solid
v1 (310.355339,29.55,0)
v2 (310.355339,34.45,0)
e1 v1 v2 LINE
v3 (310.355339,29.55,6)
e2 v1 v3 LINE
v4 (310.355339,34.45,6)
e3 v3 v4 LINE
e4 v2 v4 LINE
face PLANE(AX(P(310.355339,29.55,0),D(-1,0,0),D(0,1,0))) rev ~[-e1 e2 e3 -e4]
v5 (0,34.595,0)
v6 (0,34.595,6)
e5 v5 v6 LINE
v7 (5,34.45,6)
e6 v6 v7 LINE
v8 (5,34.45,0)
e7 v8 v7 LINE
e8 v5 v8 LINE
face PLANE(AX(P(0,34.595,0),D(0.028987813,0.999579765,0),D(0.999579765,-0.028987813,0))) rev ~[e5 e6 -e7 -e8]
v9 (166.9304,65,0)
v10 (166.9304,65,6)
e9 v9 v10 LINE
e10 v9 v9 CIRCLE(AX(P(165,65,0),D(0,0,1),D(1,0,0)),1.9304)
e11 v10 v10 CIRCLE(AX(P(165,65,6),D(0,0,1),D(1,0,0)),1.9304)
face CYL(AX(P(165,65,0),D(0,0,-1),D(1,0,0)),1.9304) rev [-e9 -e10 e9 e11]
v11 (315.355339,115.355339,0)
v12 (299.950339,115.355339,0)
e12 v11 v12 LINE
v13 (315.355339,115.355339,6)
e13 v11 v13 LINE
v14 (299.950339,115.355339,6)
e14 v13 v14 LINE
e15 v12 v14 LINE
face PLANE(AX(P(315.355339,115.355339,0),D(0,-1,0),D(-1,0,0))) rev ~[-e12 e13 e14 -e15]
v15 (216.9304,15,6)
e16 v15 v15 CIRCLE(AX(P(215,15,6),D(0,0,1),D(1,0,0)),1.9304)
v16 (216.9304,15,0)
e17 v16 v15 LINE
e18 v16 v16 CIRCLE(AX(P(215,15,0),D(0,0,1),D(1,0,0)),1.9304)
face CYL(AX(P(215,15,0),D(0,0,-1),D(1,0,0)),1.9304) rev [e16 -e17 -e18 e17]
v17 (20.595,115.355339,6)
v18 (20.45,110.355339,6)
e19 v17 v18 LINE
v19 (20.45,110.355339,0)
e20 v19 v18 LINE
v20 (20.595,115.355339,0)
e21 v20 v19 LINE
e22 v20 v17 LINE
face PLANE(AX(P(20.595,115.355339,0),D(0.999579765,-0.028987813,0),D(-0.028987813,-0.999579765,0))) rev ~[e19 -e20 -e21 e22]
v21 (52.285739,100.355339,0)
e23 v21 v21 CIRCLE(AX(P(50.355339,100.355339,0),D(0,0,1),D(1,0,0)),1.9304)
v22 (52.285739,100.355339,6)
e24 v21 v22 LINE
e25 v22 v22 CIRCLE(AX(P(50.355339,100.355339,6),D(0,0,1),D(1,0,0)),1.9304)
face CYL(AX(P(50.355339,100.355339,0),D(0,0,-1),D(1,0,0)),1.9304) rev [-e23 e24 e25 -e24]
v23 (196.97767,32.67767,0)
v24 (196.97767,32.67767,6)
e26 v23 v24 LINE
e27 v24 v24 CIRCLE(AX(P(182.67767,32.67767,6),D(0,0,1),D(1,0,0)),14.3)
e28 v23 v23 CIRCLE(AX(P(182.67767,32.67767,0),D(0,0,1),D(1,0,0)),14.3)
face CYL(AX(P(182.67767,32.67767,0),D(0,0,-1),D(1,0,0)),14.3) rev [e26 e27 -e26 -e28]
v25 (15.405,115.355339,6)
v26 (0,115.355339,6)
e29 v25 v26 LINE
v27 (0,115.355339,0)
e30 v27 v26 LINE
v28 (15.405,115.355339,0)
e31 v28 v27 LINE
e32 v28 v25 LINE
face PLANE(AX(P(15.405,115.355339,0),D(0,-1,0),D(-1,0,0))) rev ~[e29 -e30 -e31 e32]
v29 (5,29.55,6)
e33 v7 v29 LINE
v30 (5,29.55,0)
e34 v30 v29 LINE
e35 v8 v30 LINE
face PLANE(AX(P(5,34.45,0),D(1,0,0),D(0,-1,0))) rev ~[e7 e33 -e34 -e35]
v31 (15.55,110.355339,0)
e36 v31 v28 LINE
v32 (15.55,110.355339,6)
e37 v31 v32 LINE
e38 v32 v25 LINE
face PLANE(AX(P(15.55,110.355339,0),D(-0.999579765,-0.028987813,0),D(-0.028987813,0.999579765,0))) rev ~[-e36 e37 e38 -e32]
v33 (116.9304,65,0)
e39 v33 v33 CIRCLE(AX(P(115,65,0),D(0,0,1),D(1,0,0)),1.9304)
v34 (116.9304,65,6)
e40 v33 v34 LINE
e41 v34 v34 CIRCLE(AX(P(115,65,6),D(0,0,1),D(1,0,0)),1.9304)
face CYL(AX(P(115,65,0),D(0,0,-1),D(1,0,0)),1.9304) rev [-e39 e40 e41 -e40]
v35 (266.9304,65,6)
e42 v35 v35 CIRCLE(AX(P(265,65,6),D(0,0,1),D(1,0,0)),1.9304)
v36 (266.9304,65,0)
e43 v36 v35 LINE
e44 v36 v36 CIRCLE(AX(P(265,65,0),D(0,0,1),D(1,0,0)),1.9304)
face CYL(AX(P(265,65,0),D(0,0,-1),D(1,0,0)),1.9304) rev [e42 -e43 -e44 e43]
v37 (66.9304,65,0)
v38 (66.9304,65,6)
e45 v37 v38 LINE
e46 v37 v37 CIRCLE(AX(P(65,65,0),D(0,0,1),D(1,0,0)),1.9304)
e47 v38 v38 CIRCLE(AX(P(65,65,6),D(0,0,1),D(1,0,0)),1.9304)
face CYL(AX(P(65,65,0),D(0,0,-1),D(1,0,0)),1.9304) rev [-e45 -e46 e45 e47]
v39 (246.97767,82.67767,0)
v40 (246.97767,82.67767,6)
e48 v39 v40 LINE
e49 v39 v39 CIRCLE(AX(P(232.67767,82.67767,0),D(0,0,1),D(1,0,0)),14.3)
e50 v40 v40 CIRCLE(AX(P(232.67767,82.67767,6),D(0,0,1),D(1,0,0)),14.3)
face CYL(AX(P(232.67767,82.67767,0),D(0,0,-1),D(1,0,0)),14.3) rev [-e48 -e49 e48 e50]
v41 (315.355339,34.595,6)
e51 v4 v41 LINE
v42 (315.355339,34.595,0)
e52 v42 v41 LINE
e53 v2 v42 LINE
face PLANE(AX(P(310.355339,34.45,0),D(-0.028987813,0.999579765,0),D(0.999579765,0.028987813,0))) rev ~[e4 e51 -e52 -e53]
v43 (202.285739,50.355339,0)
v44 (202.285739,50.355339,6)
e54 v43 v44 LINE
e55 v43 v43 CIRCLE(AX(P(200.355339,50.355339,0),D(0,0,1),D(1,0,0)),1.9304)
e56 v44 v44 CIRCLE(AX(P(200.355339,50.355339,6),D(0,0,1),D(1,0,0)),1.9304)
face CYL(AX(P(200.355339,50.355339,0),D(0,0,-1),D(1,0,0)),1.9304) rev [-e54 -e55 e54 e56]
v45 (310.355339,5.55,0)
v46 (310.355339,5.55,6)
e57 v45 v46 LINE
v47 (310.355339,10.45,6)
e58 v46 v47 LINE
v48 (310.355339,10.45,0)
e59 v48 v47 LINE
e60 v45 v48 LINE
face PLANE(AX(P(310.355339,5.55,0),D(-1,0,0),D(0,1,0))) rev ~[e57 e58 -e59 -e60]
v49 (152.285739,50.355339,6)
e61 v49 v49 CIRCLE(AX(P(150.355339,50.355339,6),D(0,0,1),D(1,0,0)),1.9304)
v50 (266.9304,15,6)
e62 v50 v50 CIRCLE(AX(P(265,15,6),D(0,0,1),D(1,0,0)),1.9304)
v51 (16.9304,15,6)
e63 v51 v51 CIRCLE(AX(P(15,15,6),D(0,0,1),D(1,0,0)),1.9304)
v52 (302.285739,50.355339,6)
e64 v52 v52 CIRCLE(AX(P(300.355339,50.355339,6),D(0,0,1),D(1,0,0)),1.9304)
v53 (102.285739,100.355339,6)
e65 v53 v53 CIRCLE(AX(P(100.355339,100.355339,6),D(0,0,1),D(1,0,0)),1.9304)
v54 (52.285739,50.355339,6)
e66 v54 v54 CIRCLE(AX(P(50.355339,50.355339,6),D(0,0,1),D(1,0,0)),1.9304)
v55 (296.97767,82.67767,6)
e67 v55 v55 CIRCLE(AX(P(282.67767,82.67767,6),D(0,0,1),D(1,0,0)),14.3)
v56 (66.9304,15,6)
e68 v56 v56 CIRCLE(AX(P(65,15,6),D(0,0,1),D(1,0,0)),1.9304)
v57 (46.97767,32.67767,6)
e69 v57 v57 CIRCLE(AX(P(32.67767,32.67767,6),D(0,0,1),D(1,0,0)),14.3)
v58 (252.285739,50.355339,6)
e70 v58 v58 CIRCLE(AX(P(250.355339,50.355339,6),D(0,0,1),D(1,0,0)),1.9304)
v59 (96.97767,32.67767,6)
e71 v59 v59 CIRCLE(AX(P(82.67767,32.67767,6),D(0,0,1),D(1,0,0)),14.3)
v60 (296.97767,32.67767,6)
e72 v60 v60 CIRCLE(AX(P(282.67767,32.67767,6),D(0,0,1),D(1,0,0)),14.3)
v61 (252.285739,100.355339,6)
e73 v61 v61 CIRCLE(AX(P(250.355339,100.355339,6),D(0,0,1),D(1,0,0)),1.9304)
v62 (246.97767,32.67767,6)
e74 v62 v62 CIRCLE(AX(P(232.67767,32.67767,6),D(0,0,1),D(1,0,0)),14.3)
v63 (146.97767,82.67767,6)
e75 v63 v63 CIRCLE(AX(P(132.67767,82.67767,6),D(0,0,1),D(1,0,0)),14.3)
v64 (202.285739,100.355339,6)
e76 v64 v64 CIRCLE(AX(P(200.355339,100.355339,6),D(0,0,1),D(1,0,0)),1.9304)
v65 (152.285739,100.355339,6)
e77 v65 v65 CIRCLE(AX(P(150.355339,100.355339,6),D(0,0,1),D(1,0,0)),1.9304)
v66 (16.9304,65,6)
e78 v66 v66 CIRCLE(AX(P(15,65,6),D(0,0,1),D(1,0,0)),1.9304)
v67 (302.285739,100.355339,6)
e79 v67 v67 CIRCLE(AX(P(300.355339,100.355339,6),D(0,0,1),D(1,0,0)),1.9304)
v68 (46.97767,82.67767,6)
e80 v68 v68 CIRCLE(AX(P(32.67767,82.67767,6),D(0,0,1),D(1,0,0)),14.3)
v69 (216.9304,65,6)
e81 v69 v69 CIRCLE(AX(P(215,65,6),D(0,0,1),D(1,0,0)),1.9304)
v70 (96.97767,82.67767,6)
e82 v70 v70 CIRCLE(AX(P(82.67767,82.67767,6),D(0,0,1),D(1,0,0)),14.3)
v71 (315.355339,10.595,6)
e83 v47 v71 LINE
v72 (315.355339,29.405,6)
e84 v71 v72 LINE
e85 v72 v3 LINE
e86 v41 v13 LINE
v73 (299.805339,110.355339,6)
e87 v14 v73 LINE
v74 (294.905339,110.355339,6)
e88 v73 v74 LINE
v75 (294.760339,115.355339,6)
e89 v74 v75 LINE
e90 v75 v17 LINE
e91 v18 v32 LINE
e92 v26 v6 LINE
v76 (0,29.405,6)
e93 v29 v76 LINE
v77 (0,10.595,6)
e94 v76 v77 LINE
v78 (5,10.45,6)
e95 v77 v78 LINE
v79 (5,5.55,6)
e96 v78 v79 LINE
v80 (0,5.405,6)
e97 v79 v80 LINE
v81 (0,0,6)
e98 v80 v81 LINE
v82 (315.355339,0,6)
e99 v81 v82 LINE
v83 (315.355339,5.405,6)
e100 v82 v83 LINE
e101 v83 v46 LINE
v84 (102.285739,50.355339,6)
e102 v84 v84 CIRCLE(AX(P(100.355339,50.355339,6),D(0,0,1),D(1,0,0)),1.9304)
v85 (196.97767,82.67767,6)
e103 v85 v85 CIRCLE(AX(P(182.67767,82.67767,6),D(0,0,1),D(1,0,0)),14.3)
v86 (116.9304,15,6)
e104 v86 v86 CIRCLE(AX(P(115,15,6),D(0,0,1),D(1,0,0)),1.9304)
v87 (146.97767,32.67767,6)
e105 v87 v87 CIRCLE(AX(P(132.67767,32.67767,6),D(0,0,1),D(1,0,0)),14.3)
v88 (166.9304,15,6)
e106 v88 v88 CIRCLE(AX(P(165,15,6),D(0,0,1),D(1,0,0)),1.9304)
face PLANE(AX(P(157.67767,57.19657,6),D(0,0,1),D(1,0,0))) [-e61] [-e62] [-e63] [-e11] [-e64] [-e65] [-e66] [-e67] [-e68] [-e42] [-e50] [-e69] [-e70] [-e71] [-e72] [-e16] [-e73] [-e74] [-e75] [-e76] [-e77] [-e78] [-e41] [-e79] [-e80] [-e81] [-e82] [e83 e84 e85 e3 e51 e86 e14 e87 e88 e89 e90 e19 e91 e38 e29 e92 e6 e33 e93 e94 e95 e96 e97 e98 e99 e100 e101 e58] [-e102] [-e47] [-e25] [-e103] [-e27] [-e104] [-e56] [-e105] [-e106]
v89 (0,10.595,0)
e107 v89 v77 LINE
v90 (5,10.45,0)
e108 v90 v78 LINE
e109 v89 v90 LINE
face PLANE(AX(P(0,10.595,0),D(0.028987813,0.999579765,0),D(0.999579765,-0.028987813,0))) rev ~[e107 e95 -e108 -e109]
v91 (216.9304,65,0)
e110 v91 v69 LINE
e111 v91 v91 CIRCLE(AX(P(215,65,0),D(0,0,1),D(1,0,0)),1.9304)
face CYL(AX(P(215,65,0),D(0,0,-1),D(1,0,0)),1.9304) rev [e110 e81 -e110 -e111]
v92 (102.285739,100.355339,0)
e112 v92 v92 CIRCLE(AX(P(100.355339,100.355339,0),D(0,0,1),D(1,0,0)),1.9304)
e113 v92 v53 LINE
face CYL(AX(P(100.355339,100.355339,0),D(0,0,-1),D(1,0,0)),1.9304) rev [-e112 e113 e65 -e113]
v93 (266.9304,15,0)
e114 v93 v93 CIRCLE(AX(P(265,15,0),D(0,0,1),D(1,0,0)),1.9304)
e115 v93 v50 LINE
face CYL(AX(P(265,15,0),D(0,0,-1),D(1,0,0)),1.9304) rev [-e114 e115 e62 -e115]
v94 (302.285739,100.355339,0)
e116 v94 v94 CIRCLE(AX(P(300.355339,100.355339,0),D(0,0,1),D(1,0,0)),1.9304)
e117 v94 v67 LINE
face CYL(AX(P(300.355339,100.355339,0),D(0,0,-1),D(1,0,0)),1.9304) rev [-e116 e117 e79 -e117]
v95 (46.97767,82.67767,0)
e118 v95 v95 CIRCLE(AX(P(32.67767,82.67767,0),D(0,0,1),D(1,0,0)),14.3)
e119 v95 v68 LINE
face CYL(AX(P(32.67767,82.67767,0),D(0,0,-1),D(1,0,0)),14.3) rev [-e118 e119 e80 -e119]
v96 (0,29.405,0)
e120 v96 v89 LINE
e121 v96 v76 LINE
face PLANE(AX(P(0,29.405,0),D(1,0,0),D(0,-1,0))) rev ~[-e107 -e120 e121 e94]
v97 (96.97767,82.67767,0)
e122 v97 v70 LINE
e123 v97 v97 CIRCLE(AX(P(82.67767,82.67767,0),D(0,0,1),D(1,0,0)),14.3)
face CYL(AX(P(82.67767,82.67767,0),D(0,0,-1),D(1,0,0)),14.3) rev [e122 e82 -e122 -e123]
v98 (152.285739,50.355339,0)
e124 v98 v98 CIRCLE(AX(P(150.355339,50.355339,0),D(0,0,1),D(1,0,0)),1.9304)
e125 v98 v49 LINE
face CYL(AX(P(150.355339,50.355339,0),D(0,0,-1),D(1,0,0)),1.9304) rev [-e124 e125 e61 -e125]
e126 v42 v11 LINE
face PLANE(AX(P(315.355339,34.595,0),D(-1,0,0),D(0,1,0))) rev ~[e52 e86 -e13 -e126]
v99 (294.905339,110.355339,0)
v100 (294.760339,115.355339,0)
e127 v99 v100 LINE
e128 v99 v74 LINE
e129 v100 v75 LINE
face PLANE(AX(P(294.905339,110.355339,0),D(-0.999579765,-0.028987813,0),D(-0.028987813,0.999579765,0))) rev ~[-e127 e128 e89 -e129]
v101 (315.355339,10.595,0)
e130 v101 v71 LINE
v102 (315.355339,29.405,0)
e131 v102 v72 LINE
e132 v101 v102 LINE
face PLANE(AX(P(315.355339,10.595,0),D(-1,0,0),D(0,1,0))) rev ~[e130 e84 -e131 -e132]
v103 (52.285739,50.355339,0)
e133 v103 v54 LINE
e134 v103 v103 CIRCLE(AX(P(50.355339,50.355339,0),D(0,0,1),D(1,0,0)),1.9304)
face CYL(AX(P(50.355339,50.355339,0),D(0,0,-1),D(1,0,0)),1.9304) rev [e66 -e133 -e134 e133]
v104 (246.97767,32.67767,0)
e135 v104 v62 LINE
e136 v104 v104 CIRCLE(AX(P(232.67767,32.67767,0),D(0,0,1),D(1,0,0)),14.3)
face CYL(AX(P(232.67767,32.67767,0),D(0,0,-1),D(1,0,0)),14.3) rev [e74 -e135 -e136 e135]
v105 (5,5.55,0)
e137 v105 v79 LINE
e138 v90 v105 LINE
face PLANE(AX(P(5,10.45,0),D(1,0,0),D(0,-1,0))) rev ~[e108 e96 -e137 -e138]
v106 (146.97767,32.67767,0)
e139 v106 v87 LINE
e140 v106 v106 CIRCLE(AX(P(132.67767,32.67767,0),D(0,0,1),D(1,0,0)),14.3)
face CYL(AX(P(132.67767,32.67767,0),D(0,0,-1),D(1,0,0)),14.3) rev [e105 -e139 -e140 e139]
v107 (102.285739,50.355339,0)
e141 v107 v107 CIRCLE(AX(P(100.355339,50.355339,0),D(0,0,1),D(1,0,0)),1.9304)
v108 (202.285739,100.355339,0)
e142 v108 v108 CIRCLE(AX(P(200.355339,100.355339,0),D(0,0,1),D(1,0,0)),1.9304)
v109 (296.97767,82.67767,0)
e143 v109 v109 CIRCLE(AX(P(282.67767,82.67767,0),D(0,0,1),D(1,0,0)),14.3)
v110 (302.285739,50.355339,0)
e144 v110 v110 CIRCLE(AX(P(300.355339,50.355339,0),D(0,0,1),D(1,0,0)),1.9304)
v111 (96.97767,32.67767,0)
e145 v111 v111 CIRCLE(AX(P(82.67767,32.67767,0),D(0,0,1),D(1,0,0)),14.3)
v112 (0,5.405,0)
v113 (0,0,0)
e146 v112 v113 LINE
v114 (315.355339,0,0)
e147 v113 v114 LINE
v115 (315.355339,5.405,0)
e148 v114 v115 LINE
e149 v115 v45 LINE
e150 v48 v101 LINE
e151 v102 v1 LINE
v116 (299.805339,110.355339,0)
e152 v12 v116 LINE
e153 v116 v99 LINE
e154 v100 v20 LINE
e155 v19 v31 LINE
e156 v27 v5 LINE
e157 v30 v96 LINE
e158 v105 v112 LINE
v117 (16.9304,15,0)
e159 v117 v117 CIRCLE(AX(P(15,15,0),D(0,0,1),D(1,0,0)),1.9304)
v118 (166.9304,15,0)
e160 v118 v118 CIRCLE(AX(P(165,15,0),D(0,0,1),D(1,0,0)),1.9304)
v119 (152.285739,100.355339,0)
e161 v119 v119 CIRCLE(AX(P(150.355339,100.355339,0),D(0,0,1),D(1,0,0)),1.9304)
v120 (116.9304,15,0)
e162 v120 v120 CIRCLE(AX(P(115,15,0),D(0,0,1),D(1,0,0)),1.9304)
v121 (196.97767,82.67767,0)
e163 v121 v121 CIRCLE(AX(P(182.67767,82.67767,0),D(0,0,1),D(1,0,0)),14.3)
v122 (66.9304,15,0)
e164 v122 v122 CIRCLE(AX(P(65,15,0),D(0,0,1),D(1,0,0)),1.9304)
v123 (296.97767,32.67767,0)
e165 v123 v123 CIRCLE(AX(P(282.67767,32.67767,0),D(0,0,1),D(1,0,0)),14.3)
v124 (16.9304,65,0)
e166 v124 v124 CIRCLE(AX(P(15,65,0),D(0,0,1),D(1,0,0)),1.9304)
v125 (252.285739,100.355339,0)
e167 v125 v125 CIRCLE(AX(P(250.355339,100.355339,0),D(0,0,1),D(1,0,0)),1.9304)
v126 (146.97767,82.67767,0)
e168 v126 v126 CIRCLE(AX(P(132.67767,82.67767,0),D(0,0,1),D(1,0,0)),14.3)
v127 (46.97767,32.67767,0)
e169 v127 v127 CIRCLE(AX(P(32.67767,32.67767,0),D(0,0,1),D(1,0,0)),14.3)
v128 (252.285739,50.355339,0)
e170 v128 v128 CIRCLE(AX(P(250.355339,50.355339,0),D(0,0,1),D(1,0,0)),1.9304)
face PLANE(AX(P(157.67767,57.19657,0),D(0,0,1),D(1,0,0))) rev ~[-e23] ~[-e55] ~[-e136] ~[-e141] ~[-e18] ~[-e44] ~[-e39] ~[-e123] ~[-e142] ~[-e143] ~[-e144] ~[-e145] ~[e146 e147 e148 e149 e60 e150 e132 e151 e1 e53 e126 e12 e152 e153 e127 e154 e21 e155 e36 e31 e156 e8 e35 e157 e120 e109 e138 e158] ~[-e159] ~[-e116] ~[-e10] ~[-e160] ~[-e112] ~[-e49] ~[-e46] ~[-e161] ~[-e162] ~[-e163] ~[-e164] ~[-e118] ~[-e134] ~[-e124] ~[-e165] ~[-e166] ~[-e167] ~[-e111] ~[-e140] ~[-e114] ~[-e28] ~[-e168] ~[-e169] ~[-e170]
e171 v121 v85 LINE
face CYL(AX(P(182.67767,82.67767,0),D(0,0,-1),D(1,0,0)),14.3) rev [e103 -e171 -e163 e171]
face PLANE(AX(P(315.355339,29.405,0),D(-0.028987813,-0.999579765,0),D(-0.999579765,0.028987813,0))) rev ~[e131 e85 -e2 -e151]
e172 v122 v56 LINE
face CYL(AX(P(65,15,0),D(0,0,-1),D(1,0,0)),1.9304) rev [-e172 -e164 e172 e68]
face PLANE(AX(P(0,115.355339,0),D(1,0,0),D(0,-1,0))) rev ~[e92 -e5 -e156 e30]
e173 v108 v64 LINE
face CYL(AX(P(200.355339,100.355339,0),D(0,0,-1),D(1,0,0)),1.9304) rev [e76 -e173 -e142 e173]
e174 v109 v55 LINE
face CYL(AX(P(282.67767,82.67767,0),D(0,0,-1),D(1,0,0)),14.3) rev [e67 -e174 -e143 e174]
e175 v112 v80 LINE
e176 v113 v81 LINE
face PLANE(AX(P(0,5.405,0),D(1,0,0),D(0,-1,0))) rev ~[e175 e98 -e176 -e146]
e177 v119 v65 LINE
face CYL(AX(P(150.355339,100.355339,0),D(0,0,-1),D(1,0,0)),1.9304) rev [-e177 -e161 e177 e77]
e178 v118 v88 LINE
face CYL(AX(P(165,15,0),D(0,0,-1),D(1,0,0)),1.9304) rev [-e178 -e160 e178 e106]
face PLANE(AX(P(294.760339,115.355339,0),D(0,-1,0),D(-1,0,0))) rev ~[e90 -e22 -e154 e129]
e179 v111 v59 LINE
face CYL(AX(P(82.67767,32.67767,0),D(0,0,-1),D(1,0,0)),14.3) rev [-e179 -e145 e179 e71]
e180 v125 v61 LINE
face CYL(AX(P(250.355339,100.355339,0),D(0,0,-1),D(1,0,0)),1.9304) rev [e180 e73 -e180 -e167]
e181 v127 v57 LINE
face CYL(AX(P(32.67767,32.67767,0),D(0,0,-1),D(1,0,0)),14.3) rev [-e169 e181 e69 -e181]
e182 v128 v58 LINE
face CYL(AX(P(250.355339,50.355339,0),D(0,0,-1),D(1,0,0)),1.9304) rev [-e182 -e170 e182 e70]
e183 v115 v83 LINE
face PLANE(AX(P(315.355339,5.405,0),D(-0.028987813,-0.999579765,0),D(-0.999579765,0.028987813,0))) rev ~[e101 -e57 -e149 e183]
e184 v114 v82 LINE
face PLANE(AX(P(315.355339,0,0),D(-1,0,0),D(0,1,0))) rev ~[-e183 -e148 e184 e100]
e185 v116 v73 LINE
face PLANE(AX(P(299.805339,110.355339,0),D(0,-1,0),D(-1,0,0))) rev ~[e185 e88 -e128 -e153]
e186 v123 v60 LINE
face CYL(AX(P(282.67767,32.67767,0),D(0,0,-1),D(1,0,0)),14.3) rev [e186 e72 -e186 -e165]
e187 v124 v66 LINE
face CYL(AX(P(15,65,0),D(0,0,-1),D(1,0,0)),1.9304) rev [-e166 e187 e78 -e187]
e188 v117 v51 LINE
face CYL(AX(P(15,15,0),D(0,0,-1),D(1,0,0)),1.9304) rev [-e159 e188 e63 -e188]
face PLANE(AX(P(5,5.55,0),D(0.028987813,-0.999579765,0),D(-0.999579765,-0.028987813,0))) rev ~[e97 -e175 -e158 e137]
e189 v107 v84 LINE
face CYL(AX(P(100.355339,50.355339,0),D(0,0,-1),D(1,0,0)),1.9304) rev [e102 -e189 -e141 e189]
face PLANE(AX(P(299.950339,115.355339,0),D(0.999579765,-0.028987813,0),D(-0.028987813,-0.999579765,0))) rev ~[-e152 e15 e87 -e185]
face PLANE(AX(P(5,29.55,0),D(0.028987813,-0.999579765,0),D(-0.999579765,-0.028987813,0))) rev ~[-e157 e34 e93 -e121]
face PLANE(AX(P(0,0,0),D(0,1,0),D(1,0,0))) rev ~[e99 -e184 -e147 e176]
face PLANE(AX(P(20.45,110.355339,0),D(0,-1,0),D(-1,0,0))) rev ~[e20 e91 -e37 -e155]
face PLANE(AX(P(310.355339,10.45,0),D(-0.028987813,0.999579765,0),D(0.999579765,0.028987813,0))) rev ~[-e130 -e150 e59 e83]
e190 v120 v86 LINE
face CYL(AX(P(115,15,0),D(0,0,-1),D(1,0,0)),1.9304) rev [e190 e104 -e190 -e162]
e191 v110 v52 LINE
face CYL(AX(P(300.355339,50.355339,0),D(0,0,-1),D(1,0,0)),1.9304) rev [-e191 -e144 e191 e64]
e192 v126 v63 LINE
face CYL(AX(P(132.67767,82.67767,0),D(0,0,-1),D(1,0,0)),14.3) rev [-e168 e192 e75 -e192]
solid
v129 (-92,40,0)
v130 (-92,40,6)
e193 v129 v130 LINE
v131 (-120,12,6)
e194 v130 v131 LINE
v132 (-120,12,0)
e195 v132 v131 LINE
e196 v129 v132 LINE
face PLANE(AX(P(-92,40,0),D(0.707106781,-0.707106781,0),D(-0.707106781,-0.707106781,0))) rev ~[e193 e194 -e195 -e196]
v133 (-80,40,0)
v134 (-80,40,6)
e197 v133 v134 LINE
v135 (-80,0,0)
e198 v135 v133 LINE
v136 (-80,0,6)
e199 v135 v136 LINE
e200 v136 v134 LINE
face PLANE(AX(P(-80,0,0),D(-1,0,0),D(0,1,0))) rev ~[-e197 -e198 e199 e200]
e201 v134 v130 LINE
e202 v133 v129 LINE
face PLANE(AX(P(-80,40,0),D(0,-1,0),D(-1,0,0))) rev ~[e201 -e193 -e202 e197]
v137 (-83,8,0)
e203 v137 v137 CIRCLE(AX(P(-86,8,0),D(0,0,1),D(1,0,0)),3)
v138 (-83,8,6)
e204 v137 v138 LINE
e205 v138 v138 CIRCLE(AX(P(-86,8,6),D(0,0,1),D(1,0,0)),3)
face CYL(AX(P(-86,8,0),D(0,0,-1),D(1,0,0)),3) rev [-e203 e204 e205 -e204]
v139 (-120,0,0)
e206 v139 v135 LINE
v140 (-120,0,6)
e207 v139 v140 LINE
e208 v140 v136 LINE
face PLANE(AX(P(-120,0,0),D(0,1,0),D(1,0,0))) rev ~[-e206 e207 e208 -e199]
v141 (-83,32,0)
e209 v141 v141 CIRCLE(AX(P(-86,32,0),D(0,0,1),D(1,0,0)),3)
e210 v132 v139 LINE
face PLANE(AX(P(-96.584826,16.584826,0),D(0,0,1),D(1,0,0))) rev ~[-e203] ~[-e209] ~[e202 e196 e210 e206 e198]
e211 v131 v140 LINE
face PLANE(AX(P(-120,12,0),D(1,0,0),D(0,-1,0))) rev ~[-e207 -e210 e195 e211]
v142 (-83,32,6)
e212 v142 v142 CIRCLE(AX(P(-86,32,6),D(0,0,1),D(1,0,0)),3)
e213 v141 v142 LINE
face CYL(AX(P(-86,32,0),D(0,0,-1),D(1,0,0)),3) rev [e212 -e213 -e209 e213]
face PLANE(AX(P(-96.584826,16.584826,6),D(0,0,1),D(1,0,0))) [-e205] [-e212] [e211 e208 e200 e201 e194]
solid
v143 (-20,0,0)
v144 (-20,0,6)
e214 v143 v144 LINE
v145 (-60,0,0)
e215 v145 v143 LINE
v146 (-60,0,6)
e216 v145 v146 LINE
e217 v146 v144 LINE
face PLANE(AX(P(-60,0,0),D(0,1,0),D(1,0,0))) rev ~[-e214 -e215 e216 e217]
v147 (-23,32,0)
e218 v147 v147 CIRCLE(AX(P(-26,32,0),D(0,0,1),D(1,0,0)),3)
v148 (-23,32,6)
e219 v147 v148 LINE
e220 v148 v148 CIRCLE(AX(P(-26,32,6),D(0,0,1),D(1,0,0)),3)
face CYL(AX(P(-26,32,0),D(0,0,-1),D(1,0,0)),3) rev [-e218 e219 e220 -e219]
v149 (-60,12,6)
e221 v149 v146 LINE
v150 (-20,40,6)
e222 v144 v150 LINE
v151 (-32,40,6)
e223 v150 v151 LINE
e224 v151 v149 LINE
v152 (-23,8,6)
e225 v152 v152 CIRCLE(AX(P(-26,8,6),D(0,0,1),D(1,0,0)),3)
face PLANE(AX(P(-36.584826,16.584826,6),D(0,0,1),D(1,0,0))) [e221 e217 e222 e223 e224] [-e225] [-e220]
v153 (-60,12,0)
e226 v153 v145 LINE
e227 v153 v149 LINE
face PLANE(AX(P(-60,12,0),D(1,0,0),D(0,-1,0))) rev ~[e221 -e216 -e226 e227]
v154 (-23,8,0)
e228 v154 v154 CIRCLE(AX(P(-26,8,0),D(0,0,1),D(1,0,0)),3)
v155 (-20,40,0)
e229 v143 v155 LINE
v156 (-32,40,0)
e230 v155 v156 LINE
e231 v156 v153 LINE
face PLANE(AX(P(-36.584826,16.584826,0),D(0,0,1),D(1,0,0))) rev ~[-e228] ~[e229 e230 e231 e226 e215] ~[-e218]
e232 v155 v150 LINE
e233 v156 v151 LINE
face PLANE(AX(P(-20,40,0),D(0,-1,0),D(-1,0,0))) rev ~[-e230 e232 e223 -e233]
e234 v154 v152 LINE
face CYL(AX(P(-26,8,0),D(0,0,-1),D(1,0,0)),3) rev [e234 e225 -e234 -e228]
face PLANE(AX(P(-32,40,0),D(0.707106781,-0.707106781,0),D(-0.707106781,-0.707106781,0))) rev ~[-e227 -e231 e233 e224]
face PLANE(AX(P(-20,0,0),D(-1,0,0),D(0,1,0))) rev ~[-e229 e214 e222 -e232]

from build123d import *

# Parameters (mm, degrees)
F1_R     = 1.9304
F1_R_2   = 14.3
F2_DEPTH = 6
F1_R_3   = 3


with BuildPart() as f2:
    # F1 (on Top) → F2 (new body)
    with BuildSketch(Plane.XY):
        Polygon((0, 5.405), (0, 0), (315.3553390593, 0), (315.3553390593, 5.405), (310.3553390593, 5.55), (310.3553390593, 10.45), (315.3553390593, 10.595), (315.3553390593, 29.405), (310.3553390593, 29.55), (310.3553390593, 34.45), (315.3553390593, 34.595), (315.3553390593, 115.3553390593), (299.9503390593, 115.3553390593), (299.8053390593, 110.3553390593), (294.9053390593, 110.3553390593), (294.7603390593, 115.3553390593), (20.595, 115.3553390593), (20.45, 110.3553390593), (15.55, 110.3553390593), (15.405, 115.3553390593), (0, 115.3553390593), (0, 34.595), (5, 34.45), (5, 29.55), (0, 29.405), (0, 10.595), (5, 10.45), (5, 5.55), align=None)
        with Locations((15, 15)):
            Circle(F1_R, mode=Mode.SUBTRACT)
        with Locations((65, 15)):
            Circle(F1_R, mode=Mode.SUBTRACT)
        with Locations((32.6776695297, 32.6776695297)):
            Circle(F1_R_2, mode=Mode.SUBTRACT)
        with Locations((82.6776695297, 32.6776695297)):
            Circle(F1_R_2, mode=Mode.SUBTRACT)
        with Locations((50.3553390593, 50.3553390593)):
            Circle(F1_R, mode=Mode.SUBTRACT)
        with Locations((115, 15)):
            Circle(F1_R, mode=Mode.SUBTRACT)
        with Locations((165, 15)):
            Circle(F1_R, mode=Mode.SUBTRACT)
        with Locations((215, 15)):
            Circle(F1_R, mode=Mode.SUBTRACT)
        with Locations((265, 15)):
            Circle(F1_R, mode=Mode.SUBTRACT)
        with Locations((132.6776695297, 32.6776695297)):
            Circle(F1_R_2, mode=Mode.SUBTRACT)
        with Locations((182.6776695297, 32.6776695297)):
            Circle(F1_R_2, mode=Mode.SUBTRACT)
        with Locations((100.3553390593, 50.3553390593)):
            Circle(F1_R, mode=Mode.SUBTRACT)
        with Locations((150.3553390593, 50.3553390593)):
            Circle(F1_R, mode=Mode.SUBTRACT)
        with Locations((200.3553390593, 50.3553390593)):
            Circle(F1_R, mode=Mode.SUBTRACT)
        with Locations((232.6776695297, 32.6776695297)):
            Circle(F1_R_2, mode=Mode.SUBTRACT)
        with Locations((282.6776695297, 32.6776695297)):
            Circle(F1_R_2, mode=Mode.SUBTRACT)
        with Locations((250.3553390593, 50.3553390593)):
            Circle(F1_R, mode=Mode.SUBTRACT)
        with Locations((300.3553390593, 50.3553390593)):
            Circle(F1_R, mode=Mode.SUBTRACT)
        with Locations((15, 65)):
            Circle(F1_R, mode=Mode.SUBTRACT)
        with Locations((65, 65)):
            Circle(F1_R, mode=Mode.SUBTRACT)
        with Locations((32.6776695297, 82.6776695297)):
            Circle(F1_R_2, mode=Mode.SUBTRACT)
        with Locations((82.6776695297, 82.6776695297)):
            Circle(F1_R_2, mode=Mode.SUBTRACT)
        with Locations((50.3553390593, 100.3553390593)):
            Circle(F1_R, mode=Mode.SUBTRACT)
        with Locations((115, 65)):
            Circle(F1_R, mode=Mode.SUBTRACT)
        with Locations((165, 65)):
            Circle(F1_R, mode=Mode.SUBTRACT)
        with Locations((132.6776695297, 82.6776695297)):
            Circle(F1_R_2, mode=Mode.SUBTRACT)
        with Locations((182.6776695297, 82.6776695297)):
            Circle(F1_R_2, mode=Mode.SUBTRACT)
        with Locations((215, 65)):
            Circle(F1_R, mode=Mode.SUBTRACT)
        with Locations((265, 65)):
            Circle(F1_R, mode=Mode.SUBTRACT)
        with Locations((232.6776695297, 82.6776695297)):
            Circle(F1_R_2, mode=Mode.SUBTRACT)
        with Locations((282.6776695297, 82.6776695297)):
            Circle(F1_R_2, mode=Mode.SUBTRACT)
        with Locations((100.3553390593, 100.3553390593)):
            Circle(F1_R, mode=Mode.SUBTRACT)
        with Locations((150.3553390593, 100.3553390593)):
            Circle(F1_R, mode=Mode.SUBTRACT)
        with Locations((200.3553390593, 100.3553390593)):
            Circle(F1_R, mode=Mode.SUBTRACT)
        with Locations((250.3553390593, 100.3553390593)):
            Circle(F1_R, mode=Mode.SUBTRACT)
        with Locations((300.3553390593, 100.3553390593)):
            Circle(F1_R, mode=Mode.SUBTRACT)
    extrude(amount=F2_DEPTH)


with BuildPart() as f2b:
    # F1 (on Top) → F2, piece 2 (new body)
    with BuildSketch(Plane.XY):
        Polygon((-29, 40), (-32, 40), (-60, 12), (-60, 0), (-20, 0), (-20, 40), (-23, 40), (-26, 40), align=None)
        with Locations((-26, 8)):
            Circle(F1_R_3, mode=Mode.SUBTRACT)
        with Locations((-26, 32)):
            Circle(F1_R_3, mode=Mode.SUBTRACT)
    extrude(amount=F2_DEPTH)


with BuildPart() as f2c:
    # F1 (on Top) → F2, piece 3 (new body)
    with BuildSketch(Plane.XY):
        Polygon((-120, 12), (-120, 0), (-80, 0), (-80, 40), (-83, 40), (-86, 40), (-89, 40), (-92, 40), align=None)
        with Locations((-86, 8)):
            Circle(F1_R_3, mode=Mode.SUBTRACT)
        with Locations((-86, 32)):
            Circle(F1_R_3, mode=Mode.SUBTRACT)
    extrude(amount=F2_DEPTH)


solid = Compound([f2.part, f2b.part, f2c.part])
